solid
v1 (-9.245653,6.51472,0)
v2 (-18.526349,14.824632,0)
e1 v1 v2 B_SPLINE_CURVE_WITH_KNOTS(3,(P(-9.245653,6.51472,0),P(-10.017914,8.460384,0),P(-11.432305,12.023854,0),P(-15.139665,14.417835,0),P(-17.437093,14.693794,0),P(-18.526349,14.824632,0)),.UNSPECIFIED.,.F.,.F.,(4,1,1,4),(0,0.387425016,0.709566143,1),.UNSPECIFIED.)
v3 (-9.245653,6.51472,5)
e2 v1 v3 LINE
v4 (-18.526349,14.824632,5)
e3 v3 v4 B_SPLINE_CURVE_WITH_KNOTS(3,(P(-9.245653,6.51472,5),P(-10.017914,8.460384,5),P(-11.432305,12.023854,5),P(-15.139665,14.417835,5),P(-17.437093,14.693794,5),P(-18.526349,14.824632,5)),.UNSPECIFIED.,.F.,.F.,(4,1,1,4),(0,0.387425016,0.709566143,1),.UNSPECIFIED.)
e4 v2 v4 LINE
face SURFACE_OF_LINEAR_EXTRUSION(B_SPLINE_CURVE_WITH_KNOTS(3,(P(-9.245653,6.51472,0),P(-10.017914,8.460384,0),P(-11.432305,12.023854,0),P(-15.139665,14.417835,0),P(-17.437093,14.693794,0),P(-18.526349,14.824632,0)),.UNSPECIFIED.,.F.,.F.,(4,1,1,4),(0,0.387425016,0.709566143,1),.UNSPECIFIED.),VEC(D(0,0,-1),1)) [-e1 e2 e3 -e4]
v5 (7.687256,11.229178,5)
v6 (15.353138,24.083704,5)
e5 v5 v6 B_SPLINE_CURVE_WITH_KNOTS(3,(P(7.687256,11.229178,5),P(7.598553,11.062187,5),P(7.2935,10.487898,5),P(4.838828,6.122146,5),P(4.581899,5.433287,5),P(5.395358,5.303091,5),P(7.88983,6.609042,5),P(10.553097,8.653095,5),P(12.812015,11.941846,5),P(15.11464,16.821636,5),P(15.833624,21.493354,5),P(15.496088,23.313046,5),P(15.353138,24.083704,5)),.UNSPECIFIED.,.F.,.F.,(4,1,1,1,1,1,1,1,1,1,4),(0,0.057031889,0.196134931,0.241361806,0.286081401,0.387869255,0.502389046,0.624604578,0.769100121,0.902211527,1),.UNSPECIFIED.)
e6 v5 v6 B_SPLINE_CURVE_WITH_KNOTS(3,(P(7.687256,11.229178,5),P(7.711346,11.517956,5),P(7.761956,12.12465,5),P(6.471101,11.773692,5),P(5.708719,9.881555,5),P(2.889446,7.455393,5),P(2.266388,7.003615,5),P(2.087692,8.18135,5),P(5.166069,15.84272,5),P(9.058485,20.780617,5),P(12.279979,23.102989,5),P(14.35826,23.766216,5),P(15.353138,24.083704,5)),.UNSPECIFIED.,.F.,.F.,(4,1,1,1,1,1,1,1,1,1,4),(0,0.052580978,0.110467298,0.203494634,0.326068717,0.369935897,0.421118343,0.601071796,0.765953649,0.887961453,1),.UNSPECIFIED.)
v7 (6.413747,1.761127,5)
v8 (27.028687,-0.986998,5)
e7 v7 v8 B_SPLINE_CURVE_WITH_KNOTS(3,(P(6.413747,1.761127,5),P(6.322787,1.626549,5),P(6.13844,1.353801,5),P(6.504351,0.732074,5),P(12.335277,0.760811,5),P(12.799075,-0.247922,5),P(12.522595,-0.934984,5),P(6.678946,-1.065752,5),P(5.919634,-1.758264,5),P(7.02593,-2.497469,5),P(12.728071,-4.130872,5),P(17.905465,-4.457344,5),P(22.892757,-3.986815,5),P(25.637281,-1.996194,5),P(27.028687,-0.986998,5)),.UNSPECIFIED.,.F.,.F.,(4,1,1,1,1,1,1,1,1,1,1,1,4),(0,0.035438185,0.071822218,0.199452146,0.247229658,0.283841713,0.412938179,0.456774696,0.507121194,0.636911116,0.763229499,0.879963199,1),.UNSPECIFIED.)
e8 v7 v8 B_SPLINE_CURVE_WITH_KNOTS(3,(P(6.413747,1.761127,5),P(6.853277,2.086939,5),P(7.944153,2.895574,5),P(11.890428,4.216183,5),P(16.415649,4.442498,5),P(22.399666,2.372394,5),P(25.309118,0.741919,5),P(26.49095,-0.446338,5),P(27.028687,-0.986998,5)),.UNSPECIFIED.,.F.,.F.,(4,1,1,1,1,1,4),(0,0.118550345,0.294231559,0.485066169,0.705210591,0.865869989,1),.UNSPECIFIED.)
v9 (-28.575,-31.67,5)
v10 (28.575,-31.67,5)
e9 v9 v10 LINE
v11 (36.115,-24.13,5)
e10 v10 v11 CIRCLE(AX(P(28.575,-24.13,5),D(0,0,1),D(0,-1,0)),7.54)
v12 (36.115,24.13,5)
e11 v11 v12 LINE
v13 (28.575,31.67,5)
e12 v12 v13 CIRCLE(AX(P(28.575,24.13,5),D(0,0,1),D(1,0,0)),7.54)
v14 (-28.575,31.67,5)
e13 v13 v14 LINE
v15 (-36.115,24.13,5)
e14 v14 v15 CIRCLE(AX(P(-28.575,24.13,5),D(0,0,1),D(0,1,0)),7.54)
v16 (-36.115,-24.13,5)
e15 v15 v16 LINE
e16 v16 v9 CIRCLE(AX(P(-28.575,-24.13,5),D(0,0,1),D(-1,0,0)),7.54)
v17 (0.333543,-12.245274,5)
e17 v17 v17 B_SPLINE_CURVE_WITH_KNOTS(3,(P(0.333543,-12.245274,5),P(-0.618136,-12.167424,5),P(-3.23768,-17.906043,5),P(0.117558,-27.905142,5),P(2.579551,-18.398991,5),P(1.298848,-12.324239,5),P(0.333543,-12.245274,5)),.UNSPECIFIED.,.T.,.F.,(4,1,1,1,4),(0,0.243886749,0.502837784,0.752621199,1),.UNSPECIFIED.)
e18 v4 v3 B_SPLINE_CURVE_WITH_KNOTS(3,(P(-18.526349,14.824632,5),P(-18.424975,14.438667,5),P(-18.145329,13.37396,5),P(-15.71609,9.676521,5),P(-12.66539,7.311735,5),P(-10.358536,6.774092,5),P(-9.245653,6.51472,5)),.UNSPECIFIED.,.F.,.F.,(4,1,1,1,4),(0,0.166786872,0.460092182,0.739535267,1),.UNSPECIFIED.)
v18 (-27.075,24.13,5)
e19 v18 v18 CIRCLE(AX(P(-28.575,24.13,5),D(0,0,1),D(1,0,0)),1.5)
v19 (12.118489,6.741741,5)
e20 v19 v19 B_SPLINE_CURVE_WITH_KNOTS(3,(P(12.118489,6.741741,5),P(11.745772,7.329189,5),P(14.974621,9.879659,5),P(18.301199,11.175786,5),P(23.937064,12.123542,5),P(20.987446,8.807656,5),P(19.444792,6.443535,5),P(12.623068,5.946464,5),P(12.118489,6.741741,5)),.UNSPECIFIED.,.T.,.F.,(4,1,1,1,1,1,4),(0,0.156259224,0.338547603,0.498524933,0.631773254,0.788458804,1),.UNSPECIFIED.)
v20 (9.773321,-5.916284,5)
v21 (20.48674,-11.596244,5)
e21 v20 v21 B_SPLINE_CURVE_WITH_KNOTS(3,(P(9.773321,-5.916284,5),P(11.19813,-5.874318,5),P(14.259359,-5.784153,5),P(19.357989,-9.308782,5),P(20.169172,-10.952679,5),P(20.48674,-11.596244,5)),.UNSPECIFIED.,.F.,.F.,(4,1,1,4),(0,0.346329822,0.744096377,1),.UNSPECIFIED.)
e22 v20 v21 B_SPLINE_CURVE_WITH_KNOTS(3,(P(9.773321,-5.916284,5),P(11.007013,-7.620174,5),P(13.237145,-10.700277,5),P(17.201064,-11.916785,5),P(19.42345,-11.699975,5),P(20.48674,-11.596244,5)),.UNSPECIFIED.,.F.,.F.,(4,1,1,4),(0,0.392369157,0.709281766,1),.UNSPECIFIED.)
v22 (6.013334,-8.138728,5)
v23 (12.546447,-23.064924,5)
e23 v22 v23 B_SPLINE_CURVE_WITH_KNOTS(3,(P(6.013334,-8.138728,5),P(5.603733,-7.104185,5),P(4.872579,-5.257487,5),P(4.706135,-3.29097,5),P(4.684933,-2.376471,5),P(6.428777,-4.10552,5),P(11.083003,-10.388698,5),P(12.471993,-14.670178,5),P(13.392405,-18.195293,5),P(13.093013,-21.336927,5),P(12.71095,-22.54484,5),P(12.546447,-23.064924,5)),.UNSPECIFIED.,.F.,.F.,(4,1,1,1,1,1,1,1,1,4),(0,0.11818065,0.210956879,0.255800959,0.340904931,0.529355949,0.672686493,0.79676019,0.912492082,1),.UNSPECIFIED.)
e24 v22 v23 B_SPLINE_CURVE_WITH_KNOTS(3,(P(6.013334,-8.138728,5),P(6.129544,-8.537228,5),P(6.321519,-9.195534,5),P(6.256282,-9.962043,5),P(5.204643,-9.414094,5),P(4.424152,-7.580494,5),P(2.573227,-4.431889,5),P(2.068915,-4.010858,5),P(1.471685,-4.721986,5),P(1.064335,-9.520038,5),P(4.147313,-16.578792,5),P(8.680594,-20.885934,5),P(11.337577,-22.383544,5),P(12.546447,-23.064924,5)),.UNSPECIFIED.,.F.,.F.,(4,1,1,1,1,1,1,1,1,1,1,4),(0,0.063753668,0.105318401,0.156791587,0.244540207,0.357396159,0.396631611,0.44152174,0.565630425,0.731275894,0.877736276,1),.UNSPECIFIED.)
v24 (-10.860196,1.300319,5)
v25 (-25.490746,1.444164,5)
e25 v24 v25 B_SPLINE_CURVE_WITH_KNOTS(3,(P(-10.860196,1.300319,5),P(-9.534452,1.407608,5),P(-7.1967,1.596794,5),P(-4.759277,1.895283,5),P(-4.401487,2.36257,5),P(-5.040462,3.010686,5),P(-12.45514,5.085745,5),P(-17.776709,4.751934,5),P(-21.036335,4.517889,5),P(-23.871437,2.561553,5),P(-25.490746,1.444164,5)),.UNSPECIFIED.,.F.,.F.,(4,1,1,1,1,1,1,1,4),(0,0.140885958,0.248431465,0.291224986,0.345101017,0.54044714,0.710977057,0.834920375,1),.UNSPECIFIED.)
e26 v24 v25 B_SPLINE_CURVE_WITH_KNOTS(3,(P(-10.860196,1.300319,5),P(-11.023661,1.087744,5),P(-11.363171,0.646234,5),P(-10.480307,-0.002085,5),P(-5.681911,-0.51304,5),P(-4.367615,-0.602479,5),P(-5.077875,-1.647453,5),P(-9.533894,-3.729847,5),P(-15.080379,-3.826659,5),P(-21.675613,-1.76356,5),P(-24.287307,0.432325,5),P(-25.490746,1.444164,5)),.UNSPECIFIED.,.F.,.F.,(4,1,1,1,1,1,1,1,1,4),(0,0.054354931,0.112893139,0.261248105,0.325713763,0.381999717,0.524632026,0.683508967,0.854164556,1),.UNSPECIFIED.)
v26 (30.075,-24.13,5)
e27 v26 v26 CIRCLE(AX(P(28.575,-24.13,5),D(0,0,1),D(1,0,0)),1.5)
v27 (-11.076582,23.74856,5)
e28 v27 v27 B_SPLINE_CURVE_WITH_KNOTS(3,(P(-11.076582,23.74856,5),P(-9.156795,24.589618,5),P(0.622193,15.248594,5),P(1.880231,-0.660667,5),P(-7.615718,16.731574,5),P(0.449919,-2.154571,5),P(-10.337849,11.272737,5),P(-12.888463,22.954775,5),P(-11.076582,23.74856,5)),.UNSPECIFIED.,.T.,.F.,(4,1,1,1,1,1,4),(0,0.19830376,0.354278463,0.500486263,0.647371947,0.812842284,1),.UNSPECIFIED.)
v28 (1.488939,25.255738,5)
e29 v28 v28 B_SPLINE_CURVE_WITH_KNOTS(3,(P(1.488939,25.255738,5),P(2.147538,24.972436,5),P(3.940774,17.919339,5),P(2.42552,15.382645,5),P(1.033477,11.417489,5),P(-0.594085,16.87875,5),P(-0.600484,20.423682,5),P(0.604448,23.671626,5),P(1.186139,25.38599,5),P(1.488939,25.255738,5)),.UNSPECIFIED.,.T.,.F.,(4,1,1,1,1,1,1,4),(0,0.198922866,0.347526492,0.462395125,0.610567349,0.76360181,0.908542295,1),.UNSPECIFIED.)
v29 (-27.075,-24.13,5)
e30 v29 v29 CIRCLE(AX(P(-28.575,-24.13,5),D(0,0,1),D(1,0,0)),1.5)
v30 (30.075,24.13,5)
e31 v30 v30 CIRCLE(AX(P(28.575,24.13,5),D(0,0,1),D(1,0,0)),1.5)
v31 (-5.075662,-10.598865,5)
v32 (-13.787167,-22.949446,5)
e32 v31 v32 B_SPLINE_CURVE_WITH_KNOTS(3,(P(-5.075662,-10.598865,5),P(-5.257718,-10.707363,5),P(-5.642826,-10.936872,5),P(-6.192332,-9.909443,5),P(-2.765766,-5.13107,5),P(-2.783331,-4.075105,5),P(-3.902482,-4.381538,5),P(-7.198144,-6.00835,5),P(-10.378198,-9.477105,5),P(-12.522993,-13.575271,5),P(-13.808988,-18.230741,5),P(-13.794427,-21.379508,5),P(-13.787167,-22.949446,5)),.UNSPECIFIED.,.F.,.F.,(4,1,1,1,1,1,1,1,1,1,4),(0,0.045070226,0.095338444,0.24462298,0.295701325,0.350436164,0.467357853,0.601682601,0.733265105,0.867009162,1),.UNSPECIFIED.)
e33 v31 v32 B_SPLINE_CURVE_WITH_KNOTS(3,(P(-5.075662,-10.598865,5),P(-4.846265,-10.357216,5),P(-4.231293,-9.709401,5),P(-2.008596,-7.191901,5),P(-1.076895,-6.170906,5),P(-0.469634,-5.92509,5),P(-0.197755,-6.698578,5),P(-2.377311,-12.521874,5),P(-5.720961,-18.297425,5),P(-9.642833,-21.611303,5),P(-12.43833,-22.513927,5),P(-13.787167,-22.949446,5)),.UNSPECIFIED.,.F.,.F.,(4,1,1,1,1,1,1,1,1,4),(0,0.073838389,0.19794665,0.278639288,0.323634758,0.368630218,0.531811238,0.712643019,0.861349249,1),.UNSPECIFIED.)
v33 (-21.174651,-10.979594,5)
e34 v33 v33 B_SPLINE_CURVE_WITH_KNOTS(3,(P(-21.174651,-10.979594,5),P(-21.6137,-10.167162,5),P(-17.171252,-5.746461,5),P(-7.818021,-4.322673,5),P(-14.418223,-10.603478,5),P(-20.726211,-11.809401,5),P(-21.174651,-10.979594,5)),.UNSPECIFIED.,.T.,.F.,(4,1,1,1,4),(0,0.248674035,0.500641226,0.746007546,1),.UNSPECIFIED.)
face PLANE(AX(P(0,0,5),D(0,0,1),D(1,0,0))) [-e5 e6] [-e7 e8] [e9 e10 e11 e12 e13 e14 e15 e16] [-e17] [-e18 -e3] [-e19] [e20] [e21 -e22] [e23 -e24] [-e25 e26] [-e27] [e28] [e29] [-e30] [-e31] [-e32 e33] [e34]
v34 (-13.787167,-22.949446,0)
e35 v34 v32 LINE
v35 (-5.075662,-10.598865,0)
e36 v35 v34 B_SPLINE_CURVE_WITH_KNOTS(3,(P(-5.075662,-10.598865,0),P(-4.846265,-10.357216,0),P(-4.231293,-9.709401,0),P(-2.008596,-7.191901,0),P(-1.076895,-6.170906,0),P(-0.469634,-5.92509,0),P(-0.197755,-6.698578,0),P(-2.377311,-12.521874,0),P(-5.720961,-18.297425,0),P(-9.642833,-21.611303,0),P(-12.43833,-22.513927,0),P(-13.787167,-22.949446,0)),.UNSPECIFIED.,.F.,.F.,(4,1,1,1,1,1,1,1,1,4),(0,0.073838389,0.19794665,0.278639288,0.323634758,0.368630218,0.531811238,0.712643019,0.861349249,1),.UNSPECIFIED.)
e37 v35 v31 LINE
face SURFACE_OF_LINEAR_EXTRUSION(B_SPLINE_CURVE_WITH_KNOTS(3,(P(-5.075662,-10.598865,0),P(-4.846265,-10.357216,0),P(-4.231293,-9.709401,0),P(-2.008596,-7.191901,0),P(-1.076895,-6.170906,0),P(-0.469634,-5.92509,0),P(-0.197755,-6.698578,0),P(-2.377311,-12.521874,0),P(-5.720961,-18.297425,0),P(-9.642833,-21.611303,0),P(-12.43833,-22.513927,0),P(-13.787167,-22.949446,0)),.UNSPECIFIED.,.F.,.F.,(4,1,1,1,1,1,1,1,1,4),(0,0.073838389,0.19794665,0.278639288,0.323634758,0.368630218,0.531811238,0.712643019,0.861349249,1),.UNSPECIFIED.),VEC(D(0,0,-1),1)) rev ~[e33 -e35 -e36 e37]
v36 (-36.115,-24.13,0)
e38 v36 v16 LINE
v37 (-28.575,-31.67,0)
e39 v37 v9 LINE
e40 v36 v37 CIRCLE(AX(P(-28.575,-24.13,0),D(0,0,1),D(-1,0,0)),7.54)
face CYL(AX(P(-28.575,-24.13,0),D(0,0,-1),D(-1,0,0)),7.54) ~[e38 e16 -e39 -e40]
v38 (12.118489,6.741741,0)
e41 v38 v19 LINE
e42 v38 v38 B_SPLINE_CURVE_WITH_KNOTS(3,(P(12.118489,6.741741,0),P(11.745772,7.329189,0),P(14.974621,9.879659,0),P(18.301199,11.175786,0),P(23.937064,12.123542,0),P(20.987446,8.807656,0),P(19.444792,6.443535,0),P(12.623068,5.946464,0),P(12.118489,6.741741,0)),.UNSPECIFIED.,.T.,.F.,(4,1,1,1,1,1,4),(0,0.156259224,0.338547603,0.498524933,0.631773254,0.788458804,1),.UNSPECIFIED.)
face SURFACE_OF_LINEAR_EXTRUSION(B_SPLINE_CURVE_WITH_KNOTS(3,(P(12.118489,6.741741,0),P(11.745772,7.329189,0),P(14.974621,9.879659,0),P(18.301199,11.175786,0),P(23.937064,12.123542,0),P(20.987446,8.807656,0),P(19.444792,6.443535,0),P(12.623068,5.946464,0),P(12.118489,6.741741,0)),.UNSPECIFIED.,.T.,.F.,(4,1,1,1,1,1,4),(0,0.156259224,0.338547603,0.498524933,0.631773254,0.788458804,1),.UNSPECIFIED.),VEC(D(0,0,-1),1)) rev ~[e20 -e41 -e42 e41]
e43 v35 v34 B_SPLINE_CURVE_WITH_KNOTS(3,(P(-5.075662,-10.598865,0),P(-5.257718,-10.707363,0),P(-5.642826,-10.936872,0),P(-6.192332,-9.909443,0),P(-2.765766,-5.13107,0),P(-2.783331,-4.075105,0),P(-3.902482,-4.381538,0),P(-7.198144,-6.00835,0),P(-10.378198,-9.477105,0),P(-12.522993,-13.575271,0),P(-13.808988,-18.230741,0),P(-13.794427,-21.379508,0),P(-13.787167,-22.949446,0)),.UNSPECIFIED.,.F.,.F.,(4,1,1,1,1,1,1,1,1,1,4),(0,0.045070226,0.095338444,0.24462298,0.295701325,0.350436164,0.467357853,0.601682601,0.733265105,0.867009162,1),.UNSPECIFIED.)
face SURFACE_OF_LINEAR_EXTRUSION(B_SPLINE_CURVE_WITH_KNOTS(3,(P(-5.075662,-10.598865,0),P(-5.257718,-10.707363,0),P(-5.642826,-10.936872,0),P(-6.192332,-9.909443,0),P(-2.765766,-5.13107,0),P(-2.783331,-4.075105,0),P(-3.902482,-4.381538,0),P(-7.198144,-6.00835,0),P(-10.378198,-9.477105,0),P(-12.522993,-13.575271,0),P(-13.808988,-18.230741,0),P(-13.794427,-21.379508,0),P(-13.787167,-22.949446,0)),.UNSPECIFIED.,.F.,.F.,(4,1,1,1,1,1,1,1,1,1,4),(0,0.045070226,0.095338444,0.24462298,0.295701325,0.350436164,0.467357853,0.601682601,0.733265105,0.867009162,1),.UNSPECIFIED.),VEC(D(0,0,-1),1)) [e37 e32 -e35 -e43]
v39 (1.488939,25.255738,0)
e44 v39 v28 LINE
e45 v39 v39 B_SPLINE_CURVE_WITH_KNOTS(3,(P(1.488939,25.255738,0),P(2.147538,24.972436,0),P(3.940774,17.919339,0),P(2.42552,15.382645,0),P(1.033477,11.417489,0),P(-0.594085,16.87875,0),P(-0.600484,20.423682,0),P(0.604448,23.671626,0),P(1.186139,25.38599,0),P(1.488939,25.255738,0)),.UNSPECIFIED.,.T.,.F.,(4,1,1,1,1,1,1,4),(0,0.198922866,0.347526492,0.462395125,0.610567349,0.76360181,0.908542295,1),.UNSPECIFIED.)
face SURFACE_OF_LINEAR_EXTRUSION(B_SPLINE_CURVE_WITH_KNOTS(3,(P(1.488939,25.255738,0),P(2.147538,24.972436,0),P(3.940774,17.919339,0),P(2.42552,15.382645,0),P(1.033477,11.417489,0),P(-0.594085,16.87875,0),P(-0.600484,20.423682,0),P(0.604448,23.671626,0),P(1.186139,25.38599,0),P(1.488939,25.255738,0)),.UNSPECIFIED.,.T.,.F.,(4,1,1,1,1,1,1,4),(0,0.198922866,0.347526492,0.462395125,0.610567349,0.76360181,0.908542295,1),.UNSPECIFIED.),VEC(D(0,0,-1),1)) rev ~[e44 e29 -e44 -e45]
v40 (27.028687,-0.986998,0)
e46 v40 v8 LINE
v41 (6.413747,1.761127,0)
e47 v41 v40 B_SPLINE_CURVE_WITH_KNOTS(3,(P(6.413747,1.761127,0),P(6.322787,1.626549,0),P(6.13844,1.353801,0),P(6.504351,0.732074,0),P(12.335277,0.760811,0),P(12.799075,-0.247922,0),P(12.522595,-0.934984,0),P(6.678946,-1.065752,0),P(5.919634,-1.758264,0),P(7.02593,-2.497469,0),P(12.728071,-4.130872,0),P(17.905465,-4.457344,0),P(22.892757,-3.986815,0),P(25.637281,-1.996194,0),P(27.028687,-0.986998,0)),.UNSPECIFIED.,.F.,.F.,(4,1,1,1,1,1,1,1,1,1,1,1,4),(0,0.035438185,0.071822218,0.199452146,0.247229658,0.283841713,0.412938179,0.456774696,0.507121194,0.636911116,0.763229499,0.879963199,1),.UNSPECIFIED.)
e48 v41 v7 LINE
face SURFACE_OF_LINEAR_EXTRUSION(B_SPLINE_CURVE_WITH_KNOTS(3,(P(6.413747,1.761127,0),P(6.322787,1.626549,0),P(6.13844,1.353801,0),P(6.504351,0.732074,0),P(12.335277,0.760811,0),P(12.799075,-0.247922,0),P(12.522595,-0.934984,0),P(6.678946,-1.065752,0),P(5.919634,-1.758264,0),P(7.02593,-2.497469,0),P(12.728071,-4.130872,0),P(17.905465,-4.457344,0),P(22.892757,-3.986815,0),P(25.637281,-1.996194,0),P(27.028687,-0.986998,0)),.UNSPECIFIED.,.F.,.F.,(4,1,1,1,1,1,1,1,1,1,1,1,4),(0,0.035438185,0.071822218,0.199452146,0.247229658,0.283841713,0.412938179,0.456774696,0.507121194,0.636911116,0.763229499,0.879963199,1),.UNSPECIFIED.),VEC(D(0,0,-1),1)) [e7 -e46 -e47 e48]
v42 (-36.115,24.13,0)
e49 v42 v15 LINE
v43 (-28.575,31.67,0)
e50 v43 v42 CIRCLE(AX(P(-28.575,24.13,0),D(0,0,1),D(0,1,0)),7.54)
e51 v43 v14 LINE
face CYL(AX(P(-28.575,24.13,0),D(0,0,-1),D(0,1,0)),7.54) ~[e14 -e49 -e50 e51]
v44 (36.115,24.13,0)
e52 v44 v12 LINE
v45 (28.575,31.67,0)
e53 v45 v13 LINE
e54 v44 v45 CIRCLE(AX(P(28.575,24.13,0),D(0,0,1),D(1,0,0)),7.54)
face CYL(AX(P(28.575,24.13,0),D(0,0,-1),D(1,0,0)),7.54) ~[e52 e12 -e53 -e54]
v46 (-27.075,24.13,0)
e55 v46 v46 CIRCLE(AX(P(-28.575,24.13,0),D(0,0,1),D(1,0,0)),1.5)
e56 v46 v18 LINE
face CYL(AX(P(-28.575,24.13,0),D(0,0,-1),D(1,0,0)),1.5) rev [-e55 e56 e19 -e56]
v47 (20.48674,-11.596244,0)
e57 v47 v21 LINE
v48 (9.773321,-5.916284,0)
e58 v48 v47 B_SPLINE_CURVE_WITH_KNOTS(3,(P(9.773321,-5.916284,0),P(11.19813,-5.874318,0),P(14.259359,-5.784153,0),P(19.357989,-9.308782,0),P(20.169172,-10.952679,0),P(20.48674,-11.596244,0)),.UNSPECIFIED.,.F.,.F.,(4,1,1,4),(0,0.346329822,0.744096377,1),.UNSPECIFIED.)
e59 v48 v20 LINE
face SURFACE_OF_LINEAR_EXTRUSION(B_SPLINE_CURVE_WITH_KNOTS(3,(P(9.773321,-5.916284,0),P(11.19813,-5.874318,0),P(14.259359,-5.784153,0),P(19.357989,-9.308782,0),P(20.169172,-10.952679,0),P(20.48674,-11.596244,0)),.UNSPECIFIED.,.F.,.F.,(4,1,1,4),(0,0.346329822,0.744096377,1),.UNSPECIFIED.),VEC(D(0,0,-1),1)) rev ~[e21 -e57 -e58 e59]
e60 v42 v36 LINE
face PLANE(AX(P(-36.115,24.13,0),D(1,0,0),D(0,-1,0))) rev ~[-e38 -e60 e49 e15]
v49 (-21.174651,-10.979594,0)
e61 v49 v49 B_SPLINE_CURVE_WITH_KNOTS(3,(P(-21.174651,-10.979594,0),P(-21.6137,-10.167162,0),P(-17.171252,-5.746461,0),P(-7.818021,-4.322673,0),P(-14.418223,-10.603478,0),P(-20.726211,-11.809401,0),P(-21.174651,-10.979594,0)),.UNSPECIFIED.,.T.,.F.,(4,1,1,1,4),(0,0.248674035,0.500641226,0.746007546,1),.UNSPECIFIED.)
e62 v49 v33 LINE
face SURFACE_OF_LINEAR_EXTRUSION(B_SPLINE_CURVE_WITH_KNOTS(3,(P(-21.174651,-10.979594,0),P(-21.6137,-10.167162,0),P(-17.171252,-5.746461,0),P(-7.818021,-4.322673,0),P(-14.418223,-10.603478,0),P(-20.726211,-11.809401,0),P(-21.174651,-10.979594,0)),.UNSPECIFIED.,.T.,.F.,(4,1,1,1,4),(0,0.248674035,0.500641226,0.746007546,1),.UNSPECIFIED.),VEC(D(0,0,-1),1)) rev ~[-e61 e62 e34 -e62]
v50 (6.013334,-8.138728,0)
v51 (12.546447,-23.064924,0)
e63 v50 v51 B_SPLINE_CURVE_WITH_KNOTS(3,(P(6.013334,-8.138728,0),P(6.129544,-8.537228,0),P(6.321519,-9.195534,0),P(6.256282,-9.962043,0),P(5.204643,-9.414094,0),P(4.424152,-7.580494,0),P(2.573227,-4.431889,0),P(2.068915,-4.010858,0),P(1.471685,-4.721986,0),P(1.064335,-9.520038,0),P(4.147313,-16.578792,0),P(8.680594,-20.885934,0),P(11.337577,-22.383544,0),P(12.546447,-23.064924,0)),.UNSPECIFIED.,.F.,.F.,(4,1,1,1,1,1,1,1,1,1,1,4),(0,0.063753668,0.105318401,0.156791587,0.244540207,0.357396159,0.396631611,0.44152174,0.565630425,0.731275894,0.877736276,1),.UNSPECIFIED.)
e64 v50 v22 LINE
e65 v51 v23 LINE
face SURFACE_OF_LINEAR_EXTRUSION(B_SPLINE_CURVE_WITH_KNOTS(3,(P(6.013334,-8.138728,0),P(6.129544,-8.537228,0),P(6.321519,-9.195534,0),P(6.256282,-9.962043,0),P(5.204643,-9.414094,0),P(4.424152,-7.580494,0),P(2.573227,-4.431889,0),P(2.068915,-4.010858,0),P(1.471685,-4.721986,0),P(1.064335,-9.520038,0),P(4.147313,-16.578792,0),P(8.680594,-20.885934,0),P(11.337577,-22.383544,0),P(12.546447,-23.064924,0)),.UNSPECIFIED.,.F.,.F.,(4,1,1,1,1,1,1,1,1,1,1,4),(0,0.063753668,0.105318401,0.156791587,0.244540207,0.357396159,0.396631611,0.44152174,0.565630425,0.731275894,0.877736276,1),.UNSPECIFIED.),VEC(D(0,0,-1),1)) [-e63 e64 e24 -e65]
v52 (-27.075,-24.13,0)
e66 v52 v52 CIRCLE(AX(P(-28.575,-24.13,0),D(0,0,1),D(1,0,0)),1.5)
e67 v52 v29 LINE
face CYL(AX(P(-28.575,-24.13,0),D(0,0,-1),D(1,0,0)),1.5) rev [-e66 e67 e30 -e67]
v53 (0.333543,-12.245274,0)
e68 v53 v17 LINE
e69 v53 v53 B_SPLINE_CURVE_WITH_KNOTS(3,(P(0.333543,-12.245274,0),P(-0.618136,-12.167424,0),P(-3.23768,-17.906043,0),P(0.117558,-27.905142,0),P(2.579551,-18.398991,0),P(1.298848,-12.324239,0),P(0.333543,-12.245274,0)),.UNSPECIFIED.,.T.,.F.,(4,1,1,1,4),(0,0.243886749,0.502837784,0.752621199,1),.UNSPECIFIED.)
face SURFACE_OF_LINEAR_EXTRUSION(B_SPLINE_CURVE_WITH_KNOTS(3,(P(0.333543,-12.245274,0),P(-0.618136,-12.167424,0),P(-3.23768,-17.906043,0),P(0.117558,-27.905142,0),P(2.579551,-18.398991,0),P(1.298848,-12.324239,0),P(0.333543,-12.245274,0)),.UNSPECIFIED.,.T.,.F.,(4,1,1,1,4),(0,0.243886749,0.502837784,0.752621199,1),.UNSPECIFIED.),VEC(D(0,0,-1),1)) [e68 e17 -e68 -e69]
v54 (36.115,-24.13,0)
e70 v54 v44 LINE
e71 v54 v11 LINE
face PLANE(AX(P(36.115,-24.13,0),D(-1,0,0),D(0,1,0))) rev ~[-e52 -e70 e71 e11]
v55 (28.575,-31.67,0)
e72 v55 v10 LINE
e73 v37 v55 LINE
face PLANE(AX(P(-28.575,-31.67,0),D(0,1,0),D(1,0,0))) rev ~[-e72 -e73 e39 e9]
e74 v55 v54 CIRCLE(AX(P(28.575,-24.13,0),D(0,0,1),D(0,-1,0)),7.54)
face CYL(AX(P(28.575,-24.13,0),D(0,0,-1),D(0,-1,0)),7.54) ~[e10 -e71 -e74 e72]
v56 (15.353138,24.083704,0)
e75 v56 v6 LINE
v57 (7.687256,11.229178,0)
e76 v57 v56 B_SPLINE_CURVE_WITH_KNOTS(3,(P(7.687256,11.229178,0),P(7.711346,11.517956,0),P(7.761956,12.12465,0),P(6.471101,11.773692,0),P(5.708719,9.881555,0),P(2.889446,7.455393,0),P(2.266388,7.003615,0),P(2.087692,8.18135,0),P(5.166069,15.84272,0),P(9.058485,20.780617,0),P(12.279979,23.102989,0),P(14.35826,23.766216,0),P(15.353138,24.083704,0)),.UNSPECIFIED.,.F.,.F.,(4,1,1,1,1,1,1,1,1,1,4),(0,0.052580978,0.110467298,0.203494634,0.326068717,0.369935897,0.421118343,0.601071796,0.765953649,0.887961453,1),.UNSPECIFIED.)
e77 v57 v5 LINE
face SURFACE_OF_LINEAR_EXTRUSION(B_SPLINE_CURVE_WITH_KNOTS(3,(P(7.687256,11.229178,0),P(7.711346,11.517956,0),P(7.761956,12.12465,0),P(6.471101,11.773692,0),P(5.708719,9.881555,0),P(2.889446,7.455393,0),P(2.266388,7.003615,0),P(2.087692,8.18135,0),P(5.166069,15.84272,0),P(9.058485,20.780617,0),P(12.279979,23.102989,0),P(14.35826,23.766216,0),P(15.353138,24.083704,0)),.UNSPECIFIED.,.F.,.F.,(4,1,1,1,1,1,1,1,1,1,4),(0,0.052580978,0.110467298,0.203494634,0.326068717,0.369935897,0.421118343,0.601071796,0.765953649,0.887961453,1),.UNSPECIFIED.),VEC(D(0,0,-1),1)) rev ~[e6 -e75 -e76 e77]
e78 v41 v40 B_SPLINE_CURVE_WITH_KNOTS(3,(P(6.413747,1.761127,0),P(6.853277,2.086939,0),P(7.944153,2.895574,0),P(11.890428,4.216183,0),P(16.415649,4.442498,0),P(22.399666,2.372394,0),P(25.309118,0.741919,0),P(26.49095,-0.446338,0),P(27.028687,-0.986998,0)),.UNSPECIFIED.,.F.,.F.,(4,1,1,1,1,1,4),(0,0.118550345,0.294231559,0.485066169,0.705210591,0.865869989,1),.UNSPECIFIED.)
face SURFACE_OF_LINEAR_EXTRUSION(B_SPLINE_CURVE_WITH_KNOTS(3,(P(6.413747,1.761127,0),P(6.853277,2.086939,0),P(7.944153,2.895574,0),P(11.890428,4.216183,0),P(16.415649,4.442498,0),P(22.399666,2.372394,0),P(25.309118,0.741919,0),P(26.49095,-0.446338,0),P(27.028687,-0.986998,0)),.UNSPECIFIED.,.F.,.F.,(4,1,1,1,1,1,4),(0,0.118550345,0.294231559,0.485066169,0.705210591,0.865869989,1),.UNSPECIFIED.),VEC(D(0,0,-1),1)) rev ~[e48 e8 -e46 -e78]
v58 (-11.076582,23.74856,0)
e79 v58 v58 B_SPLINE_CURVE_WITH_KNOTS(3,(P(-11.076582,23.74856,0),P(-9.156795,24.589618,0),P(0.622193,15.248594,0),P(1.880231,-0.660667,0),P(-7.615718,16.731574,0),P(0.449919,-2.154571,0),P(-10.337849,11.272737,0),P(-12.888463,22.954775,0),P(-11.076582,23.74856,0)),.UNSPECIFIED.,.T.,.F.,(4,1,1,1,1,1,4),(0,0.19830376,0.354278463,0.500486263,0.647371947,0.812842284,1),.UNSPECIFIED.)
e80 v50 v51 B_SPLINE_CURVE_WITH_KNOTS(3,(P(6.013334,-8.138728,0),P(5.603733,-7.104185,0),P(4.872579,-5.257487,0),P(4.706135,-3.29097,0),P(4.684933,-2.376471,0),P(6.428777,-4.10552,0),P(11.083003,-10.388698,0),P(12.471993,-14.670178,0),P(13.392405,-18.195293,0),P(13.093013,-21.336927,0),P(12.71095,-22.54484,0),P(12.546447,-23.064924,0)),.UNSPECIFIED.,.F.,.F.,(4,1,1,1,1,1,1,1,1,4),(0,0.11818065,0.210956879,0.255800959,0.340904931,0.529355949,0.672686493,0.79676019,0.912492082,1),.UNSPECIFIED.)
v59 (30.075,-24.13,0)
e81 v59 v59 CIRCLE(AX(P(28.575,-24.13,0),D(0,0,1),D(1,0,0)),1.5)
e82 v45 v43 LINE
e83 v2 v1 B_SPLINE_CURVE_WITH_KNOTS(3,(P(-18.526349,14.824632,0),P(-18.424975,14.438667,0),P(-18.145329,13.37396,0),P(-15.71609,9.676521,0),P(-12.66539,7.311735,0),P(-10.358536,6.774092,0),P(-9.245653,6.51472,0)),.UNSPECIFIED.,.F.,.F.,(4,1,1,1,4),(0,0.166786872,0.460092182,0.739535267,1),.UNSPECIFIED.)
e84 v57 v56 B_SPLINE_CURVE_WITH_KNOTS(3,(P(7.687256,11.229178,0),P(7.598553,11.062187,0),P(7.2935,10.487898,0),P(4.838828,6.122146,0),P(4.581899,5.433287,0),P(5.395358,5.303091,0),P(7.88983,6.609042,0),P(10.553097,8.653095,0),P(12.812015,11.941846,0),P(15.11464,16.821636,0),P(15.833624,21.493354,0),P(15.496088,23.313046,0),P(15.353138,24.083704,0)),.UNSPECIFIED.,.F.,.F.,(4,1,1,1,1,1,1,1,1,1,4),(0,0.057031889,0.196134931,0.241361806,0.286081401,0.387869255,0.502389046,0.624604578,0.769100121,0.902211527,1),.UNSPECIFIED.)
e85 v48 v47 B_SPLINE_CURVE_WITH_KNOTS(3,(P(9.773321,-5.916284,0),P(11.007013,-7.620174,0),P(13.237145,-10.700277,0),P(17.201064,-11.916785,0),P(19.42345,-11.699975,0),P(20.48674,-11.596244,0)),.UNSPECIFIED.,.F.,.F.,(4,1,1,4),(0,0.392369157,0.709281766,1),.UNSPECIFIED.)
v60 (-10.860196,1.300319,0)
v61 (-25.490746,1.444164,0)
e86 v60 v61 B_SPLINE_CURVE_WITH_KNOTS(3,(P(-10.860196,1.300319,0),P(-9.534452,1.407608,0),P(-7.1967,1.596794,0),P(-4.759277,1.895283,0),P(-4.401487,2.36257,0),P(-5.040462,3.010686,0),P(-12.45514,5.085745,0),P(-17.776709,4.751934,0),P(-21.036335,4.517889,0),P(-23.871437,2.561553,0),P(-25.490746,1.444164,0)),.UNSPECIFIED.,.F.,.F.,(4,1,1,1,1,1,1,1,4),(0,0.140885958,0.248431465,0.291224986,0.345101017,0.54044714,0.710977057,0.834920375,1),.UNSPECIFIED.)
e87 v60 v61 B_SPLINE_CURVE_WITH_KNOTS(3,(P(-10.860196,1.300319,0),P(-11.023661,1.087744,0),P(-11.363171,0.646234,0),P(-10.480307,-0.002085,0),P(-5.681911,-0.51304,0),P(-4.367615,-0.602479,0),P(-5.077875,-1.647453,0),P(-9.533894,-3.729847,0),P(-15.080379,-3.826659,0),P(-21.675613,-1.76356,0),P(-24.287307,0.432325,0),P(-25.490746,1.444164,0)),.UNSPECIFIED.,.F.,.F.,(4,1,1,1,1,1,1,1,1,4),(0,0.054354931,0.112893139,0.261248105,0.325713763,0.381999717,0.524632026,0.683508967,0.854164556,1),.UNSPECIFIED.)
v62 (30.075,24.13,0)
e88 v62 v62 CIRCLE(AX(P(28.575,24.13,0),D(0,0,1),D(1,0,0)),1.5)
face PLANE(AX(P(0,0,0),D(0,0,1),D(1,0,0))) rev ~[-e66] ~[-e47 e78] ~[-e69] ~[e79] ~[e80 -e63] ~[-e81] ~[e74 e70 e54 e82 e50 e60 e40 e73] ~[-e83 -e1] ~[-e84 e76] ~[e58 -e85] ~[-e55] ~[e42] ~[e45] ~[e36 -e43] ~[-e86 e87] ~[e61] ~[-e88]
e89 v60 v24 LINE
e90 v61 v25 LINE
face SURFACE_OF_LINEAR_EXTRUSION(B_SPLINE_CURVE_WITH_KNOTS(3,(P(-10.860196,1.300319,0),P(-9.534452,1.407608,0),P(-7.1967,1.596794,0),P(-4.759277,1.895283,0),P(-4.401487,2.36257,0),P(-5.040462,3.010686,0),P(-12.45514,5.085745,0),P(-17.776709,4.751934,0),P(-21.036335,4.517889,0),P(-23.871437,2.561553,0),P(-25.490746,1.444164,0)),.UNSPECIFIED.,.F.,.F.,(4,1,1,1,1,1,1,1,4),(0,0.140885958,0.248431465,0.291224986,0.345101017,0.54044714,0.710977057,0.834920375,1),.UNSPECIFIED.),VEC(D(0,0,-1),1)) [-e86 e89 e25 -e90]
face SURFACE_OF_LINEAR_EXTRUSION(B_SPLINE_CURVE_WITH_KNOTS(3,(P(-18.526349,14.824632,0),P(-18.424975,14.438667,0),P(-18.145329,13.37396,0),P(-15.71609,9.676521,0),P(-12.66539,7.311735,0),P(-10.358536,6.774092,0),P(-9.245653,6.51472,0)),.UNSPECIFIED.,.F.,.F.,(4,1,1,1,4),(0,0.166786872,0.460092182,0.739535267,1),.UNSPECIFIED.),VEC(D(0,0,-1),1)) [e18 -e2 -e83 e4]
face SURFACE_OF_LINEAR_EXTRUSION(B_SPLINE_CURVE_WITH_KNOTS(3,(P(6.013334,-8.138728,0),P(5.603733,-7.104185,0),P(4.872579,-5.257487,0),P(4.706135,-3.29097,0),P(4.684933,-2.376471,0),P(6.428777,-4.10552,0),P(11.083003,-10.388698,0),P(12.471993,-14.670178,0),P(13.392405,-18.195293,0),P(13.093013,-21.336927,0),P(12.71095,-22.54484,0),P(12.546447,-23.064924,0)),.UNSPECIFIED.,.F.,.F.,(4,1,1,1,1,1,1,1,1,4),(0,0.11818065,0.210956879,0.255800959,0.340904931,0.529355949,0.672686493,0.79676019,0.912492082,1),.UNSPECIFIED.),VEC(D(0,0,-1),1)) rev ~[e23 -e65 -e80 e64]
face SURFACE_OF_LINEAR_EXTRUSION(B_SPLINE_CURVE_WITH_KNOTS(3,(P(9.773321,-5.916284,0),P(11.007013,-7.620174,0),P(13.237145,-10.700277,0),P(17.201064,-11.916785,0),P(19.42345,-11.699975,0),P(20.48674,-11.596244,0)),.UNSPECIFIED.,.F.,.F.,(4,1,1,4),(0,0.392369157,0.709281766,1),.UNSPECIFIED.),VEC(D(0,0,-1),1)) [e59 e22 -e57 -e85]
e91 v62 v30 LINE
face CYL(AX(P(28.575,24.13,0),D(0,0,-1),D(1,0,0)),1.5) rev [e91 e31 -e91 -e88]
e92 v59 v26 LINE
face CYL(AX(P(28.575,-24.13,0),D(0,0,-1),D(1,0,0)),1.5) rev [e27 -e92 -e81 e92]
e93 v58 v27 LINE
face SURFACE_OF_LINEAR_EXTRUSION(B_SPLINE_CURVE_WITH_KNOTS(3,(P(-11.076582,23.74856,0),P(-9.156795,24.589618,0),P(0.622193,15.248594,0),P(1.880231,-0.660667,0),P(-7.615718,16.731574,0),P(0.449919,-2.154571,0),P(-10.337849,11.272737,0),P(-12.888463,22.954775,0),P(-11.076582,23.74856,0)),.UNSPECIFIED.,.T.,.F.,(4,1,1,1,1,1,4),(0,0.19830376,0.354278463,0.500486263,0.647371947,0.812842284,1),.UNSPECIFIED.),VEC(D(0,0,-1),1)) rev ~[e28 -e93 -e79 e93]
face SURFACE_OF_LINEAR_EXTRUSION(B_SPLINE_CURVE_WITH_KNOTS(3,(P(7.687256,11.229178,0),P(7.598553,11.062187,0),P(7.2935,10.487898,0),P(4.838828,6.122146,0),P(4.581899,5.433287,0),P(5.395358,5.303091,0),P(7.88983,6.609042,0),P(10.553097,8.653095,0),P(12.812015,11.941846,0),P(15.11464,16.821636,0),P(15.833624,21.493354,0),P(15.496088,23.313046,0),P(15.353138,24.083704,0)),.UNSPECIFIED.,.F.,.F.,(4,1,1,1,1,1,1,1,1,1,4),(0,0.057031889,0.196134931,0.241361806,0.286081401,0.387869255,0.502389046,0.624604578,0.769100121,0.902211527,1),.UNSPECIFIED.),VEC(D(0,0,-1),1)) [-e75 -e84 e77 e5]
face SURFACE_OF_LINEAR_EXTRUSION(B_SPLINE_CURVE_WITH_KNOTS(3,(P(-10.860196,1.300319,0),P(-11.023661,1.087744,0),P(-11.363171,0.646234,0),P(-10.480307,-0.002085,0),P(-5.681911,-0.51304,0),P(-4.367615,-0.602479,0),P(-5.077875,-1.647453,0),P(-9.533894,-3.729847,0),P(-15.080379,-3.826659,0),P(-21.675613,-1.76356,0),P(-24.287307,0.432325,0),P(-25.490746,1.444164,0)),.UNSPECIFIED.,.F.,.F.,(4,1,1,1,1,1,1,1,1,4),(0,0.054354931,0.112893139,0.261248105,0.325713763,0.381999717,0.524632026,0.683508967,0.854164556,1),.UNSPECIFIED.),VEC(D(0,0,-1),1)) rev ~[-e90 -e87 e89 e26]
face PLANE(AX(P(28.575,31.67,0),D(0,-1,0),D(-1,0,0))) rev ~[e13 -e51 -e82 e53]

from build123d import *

# Parameters (mm, degrees)
F0_R     = 1.5
F1_DEPTH = 5


with BuildPart() as f1:
    # F0 (on Top) → F1 (new body)
    with BuildSketch(Plane.XY):
        with BuildLine():
            ThreePointArc((36.115, 24.13), (33.9065851301, 29.4615851301), (28.575, 31.67))
            Line((28.575, 31.67), (-28.575, 31.67))
            ThreePointArc((-28.575, 31.67), (-33.9065851301, 29.4615851301), (-36.115, 24.13))
            Line((-36.115, 24.13), (-36.115, -24.13))
            ThreePointArc((-36.115, -24.13), (-33.9065851301, -29.4615851301), (-28.575, -31.67))
            Line((-28.575, -31.67), (28.575, -31.67))
            ThreePointArc((28.575, -31.67), (33.9065851301, -29.4615851301), (36.115, -24.13))
            Line((36.115, -24.13), (36.115, 24.13))
        make_face()
        with Locations((-28.575, -24.13)):
            Circle(F0_R, mode=Mode.SUBTRACT)
        with BuildLine():
            add(Edge.make_bspline(
                [(0.333543052, -12.2452741489), (-0.6181356631, -12.1674242783), (-3.2376800627, -17.906042952), (0.117558052, -27.9051417086), (2.5795510635, -18.3989907918), (1.2988482223, -12.3242387), (0.333543052, -12.2452741489)],
                knots=[0, 0, 0, 0, 0.2438867486, 0.5028377842, 0.7526211991, 1, 1, 1, 1], degree=3))
        make_face(mode=Mode.SUBTRACT)
        with BuildLine():
            add(Edge.make_bspline(
                [(-21.1746506393, -10.9795937315), (-21.613699856, -10.1671618246), (-17.1712523155, -5.7464608987), (-7.8180209375, -4.3226729466), (-14.4182232131, -10.6034780406), (-20.7262114294, -11.8094012077), (-21.1746506393, -10.9795937315)],
                knots=[0, 0, 0, 0, 0.2486740351, 0.5006412265, 0.7460075463, 1, 1, 1, 1], degree=3))
        make_face(mode=Mode.SUBTRACT)
        with BuildLine():
            add(Edge.make_bspline(
                [(-5.0756623968, -10.5988653377), (-5.2577181393, -10.7073630796), (-5.642826282, -10.9368717089), (-6.1923318188, -9.9094429927), (-2.7657664024, -5.1310704405), (-2.7833310895, -4.0751048306), (-3.9024818521, -4.3815378676), (-7.1981436282, -6.0083500252), (-10.3781978136, -9.4771054808), (-12.5229932046, -13.5752709141), (-13.80898816, -18.2307414327), (-13.7944271118, -21.3795083554), (-13.7871671468, -22.9494459927)],
                knots=[0, 0, 0, 0, 0.0450702265, 0.0953384441, 0.2446229803, 0.2957013248, 0.3504361644, 0.4673578532, 0.6016826013, 0.733265105, 0.8670091623, 1, 1, 1, 1], degree=3))
            add(Edge.make_bspline(
                [(-5.0756623968, -10.5988653377), (-4.8462647036, -10.3572162044), (-4.2312932004, -9.7094009251), (-2.0085957565, -7.1919014479), (-1.0768945205, -6.170905837), (-0.4696337191, -5.9250899133), (-0.1977547793, -6.698577921), (-2.3773109506, -12.521874025), (-5.720961332, -18.2974252328), (-9.6428330177, -21.611303286), (-12.4383300324, -22.5139269223), (-13.7871671468, -22.9494459927)],
                knots=[0, 0, 0, 0, 0.0738383886, 0.1979466497, 0.2786392884, 0.3236347579, 0.3686302183, 0.5318112382, 0.7126430187, 0.8613492486, 1, 1, 1, 1], degree=3))
        make_face(mode=Mode.SUBTRACT)
        with Locations((28.575, -24.13)):
            Circle(F0_R, mode=Mode.SUBTRACT)
        with BuildLine():
            add(Edge.make_bspline(
                [(6.0133337975, -8.138728328), (6.129544282, -8.5372284858), (6.3215191571, -9.1955341307), (6.2562823124, -9.9620428614), (5.2046432481, -9.4140944167), (4.4241521729, -7.5804944488), (2.5732265524, -4.4318886462), (2.0689149179, -4.0108581564), (1.4716854141, -4.7219859454), (1.0643348533, -9.5200379837), (4.1473132697, -16.5787921184), (8.6805940401, -20.8859335437), (11.3375767627, -22.3835437659), (12.5464471057, -23.064924404)],
                knots=[0, 0, 0, 0, 0.0637536678, 0.1053184009, 0.1567915868, 0.2445402074, 0.3573961592, 0.3966316106, 0.4415217405, 0.5656304246, 0.7312758944, 0.8777362762, 1, 1, 1, 1], degree=3))
            add(Edge.make_bspline(
                [(6.0133337975, -8.138728328), (5.6037326918, -7.10418534), (4.872579402, -5.2574874219), (4.7061354484, -3.2909696242), (4.6849325541, -2.3764711381), (6.4287773023, -4.1055197441), (11.0830030101, -10.3886982856), (12.4719933841, -14.6701775934), (13.3924049888, -18.1952929219), (13.0930132524, -21.3369269539), (12.7109500777, -22.544839657), (12.5464471057, -23.064924404)],
                knots=[0, 0, 0, 0, 0.1181806496, 0.2109568786, 0.2558009589, 0.340904931, 0.5293559488, 0.6726864925, 0.7967601898, 0.9124920824, 1, 1, 1, 1], degree=3))
        make_face(mode=Mode.SUBTRACT)
        with BuildLine():
            add(Edge.make_bspline(
                [(9.7733214498, -5.9162843972), (11.0070129442, -7.6201735906), (13.2371446101, -10.7002768923), (17.2010639836, -11.9167851935), (19.4234498907, -11.6999754646), (20.4867403954, -11.5962438285)],
                knots=[0, 0, 0, 0, 0.3923691572, 0.7092817663, 1, 1, 1, 1], degree=3))
            add(Edge.make_bspline(
                [(9.7733214498, -5.9162843972), (11.1981300555, -5.8743183546), (14.2593591381, -5.7841534934), (19.3579886912, -9.3087817797), (20.1691722665, -10.9526788708), (20.4867403954, -11.5962438285)],
                knots=[0, 0, 0, 0, 0.3463298216, 0.7440963774, 1, 1, 1, 1], degree=3))
        make_face(mode=Mode.SUBTRACT)
        with BuildLine():
            add(Edge.make_bspline(
                [(6.4137466252, 1.7611274961), (6.3227869558, 1.6265492616), (6.1384398975, 1.3538008905), (6.5043512979, 0.732074462), (12.3352770158, 0.7608110347), (12.7990750221, -0.247921932), (12.522594942, -0.9349841128), (6.6789464949, -1.0657524449), (5.9196342462, -1.7582641438), (7.0259299333, -2.4974693775), (12.7280714027, -4.1308715446), (17.9054650289, -4.4573440784), (22.8927572674, -3.9868154827), (25.6372813296, -1.9961940345), (27.0286872983, -0.9869980859)],
                knots=[0, 0, 0, 0, 0.0354381853, 0.0718222182, 0.1994521456, 0.2472296583, 0.2838417135, 0.4129381786, 0.4567746958, 0.5071211941, 0.636911116, 0.7632294992, 0.8799631993, 1, 1, 1, 1], degree=3))
            add(Edge.make_bspline(
                [(6.4137466252, 1.7611274961), (6.8532770787, 2.0869389393), (7.9441531184, 2.8955743681), (11.8904275556, 4.2161827034), (16.4156491896, 4.4424983151), (22.3996659396, 2.372393873), (25.30911761, 0.7419187212), (26.4909501593, -0.4463379523), (27.0286872983, -0.9869980859)],
                knots=[0, 0, 0, 0, 0.1185503448, 0.2942315591, 0.4850661686, 0.7052105913, 0.8658699886, 1, 1, 1, 1], degree=3))
        make_face(mode=Mode.SUBTRACT)
        with BuildLine():
            add(Edge.make_bspline(
                [(-10.8601963148, 1.3003193308), (-9.5344524315, 1.4076075833), (-7.1966999706, 1.596794484), (-4.7592766199, 1.8952828256), (-4.4014865979, 2.3625696777), (-5.0404619583, 3.0106856747), (-12.4551400405, 5.085745042), (-17.776709358, 4.7519341091), (-21.0363351625, 4.5178890955), (-23.8714367272, 2.5615533563), (-25.4907459021, 1.4441639651)],
                knots=[0, 0, 0, 0, 0.1408859578, 0.2484314646, 0.2912249859, 0.3451010174, 0.5404471398, 0.7109770566, 0.8349203747, 1, 1, 1, 1], degree=3))
            add(Edge.make_bspline(
                [(-10.8601963148, 1.3003193308), (-11.0236610491, 1.0877442378), (-11.3631711323, 0.6462337936), (-10.4803068812, -0.0020852545), (-5.6819113736, -0.5130401146), (-4.3676146598, -0.602479094), (-5.0778749215, -1.6474528479), (-9.533894371, -3.7298467328), (-15.0803793111, -3.8266585095), (-21.6756125984, -1.763559594), (-24.2873070205, 0.4323253358), (-25.4907459021, 1.4441639651)],
                knots=[0, 0, 0, 0, 0.0543549305, 0.1128931389, 0.2612481045, 0.3257137631, 0.3819997171, 0.5246320263, 0.683508967, 0.8541645563, 1, 1, 1, 1], degree=3))
        make_face(mode=Mode.SUBTRACT)
        with BuildLine():
            add(Edge.make_bspline(
                [(-9.2456527054, 6.5147201531), (-10.017913985, 8.4603841203), (-11.4323049902, 12.0238537478), (-15.1396647886, 14.417834565), (-17.4370931908, 14.6937938807), (-18.5263492167, 14.8246316239)],
                knots=[0, 0, 0, 0, 0.3874250156, 0.7095661426, 1, 1, 1, 1], degree=3))
            add(Edge.make_bspline(
                [(-18.5263492167, 14.8246316239), (-18.4249753151, 14.4386672732), (-18.1453289677, 13.3739600927), (-15.7160898493, 9.6765208102), (-12.6653898969, 7.3117351948), (-10.3585356155, 6.7740922537), (-9.2456527054, 6.5147201531)],
                knots=[0, 0, 0, 0, 0.1667868719, 0.4600921817, 0.7395352672, 1, 1, 1, 1], degree=3))
        make_face(mode=Mode.SUBTRACT)
        with BuildLine():
            add(Edge.make_bspline(
                [(-11.0765816644, 23.7485598773), (-9.1567952799, 24.5896180349), (0.6221929457, 15.248594117), (1.8802307311, -0.660666787), (-7.6157184132, 16.7315736751), (0.4499194545, -2.1545713626), (-10.3378485404, 11.2727373866), (-12.8884627584, 22.9547750129), (-11.0765816644, 23.7485598773)],
                knots=[0, 0, 0, 0, 0.1983037604, 0.3542784635, 0.5004862631, 0.6473719471, 0.8128422843, 1, 1, 1, 1], degree=3))
        make_face(mode=Mode.SUBTRACT)
        with Locations((-28.575, 24.13)):
            Circle(F0_R, mode=Mode.SUBTRACT)
        with BuildLine():
            add(Edge.make_bspline(
                [(7.6872562058, 11.2291779369), (7.5985531683, 11.0621868702), (7.2934998978, 10.4878979571), (4.8388283711, 6.1221462564), (4.5818988861, 5.4332866985), (5.3953580293, 5.3030914948), (7.8898301993, 6.6090419423), (10.5530972035, 8.6530951391), (12.8120146609, 11.9418460709), (15.1146400498, 16.8216364634), (15.8336237066, 21.4933538379), (15.4960876279, 23.3130455867), (15.3531376272, 24.0837037563)],
                knots=[0, 0, 0, 0, 0.0570318885, 0.1961349307, 0.2413618057, 0.2860814014, 0.3878692552, 0.5023890458, 0.624604578, 0.7691001208, 0.9022115265, 1, 1, 1, 1], degree=3))
            add(Edge.make_bspline(
                [(7.6872562058, 11.2291779369), (7.711345928, 11.5179563295), (7.761955989, 12.1246504199), (6.4711011119, 11.7736923104), (5.7087188067, 9.8815546171), (2.8894457633, 7.455393032), (2.2663875566, 7.0036146731), (2.0876916505, 8.1813501274), (5.166069162, 15.8427202521), (9.0584851152, 20.7806167625), (12.2799785711, 23.1029891393), (14.3582595535, 23.7662156435), (15.3531376272, 24.0837037563)],
                knots=[0, 0, 0, 0, 0.0525809783, 0.1104672982, 0.2034946343, 0.3260687168, 0.3699358975, 0.421118343, 0.6010717958, 0.7659536494, 0.8879614526, 1, 1, 1, 1], degree=3))
        make_face(mode=Mode.SUBTRACT)
        with BuildLine():
            add(Edge.make_bspline(
                [(12.1184894815, 6.7417412065), (11.745772205, 7.3291887122), (14.9746206449, 9.8796589668), (18.3011993147, 11.1757858266), (23.9370644726, 12.1235420066), (20.9874464748, 8.8076555664), (19.444791551, 6.4435349555), (12.6230680676, 5.9464643289), (12.1184894815, 6.7417412065)],
                knots=[0, 0, 0, 0, 0.1562592244, 0.3385476026, 0.4985249333, 0.6317732539, 0.7884588038, 1, 1, 1, 1], degree=3))
        make_face(mode=Mode.SUBTRACT)
        with BuildLine():
            add(Edge.make_bspline(
                [(1.4889391605, 25.2557378262), (2.1475380765, 24.9724359599), (3.9407742106, 17.9193393229), (2.4255199433, 15.3826445828), (1.0334767872, 11.417489236), (-0.5940846758, 16.8787501218), (-0.6004842639, 20.4236824832), (0.6044475007, 23.6716259708), (1.1861386501, 25.3859900141), (1.4889391605, 25.2557378262)],
                knots=[0, 0, 0, 0, 0.1989228656, 0.3475264918, 0.462395125, 0.6105673493, 0.7636018099, 0.9085422952, 1, 1, 1, 1], degree=3))
        make_face(mode=Mode.SUBTRACT)
        with Locations((28.575, 24.13)):
            Circle(F0_R, mode=Mode.SUBTRACT)
    extrude(amount=F1_DEPTH)


solid = f1.part
